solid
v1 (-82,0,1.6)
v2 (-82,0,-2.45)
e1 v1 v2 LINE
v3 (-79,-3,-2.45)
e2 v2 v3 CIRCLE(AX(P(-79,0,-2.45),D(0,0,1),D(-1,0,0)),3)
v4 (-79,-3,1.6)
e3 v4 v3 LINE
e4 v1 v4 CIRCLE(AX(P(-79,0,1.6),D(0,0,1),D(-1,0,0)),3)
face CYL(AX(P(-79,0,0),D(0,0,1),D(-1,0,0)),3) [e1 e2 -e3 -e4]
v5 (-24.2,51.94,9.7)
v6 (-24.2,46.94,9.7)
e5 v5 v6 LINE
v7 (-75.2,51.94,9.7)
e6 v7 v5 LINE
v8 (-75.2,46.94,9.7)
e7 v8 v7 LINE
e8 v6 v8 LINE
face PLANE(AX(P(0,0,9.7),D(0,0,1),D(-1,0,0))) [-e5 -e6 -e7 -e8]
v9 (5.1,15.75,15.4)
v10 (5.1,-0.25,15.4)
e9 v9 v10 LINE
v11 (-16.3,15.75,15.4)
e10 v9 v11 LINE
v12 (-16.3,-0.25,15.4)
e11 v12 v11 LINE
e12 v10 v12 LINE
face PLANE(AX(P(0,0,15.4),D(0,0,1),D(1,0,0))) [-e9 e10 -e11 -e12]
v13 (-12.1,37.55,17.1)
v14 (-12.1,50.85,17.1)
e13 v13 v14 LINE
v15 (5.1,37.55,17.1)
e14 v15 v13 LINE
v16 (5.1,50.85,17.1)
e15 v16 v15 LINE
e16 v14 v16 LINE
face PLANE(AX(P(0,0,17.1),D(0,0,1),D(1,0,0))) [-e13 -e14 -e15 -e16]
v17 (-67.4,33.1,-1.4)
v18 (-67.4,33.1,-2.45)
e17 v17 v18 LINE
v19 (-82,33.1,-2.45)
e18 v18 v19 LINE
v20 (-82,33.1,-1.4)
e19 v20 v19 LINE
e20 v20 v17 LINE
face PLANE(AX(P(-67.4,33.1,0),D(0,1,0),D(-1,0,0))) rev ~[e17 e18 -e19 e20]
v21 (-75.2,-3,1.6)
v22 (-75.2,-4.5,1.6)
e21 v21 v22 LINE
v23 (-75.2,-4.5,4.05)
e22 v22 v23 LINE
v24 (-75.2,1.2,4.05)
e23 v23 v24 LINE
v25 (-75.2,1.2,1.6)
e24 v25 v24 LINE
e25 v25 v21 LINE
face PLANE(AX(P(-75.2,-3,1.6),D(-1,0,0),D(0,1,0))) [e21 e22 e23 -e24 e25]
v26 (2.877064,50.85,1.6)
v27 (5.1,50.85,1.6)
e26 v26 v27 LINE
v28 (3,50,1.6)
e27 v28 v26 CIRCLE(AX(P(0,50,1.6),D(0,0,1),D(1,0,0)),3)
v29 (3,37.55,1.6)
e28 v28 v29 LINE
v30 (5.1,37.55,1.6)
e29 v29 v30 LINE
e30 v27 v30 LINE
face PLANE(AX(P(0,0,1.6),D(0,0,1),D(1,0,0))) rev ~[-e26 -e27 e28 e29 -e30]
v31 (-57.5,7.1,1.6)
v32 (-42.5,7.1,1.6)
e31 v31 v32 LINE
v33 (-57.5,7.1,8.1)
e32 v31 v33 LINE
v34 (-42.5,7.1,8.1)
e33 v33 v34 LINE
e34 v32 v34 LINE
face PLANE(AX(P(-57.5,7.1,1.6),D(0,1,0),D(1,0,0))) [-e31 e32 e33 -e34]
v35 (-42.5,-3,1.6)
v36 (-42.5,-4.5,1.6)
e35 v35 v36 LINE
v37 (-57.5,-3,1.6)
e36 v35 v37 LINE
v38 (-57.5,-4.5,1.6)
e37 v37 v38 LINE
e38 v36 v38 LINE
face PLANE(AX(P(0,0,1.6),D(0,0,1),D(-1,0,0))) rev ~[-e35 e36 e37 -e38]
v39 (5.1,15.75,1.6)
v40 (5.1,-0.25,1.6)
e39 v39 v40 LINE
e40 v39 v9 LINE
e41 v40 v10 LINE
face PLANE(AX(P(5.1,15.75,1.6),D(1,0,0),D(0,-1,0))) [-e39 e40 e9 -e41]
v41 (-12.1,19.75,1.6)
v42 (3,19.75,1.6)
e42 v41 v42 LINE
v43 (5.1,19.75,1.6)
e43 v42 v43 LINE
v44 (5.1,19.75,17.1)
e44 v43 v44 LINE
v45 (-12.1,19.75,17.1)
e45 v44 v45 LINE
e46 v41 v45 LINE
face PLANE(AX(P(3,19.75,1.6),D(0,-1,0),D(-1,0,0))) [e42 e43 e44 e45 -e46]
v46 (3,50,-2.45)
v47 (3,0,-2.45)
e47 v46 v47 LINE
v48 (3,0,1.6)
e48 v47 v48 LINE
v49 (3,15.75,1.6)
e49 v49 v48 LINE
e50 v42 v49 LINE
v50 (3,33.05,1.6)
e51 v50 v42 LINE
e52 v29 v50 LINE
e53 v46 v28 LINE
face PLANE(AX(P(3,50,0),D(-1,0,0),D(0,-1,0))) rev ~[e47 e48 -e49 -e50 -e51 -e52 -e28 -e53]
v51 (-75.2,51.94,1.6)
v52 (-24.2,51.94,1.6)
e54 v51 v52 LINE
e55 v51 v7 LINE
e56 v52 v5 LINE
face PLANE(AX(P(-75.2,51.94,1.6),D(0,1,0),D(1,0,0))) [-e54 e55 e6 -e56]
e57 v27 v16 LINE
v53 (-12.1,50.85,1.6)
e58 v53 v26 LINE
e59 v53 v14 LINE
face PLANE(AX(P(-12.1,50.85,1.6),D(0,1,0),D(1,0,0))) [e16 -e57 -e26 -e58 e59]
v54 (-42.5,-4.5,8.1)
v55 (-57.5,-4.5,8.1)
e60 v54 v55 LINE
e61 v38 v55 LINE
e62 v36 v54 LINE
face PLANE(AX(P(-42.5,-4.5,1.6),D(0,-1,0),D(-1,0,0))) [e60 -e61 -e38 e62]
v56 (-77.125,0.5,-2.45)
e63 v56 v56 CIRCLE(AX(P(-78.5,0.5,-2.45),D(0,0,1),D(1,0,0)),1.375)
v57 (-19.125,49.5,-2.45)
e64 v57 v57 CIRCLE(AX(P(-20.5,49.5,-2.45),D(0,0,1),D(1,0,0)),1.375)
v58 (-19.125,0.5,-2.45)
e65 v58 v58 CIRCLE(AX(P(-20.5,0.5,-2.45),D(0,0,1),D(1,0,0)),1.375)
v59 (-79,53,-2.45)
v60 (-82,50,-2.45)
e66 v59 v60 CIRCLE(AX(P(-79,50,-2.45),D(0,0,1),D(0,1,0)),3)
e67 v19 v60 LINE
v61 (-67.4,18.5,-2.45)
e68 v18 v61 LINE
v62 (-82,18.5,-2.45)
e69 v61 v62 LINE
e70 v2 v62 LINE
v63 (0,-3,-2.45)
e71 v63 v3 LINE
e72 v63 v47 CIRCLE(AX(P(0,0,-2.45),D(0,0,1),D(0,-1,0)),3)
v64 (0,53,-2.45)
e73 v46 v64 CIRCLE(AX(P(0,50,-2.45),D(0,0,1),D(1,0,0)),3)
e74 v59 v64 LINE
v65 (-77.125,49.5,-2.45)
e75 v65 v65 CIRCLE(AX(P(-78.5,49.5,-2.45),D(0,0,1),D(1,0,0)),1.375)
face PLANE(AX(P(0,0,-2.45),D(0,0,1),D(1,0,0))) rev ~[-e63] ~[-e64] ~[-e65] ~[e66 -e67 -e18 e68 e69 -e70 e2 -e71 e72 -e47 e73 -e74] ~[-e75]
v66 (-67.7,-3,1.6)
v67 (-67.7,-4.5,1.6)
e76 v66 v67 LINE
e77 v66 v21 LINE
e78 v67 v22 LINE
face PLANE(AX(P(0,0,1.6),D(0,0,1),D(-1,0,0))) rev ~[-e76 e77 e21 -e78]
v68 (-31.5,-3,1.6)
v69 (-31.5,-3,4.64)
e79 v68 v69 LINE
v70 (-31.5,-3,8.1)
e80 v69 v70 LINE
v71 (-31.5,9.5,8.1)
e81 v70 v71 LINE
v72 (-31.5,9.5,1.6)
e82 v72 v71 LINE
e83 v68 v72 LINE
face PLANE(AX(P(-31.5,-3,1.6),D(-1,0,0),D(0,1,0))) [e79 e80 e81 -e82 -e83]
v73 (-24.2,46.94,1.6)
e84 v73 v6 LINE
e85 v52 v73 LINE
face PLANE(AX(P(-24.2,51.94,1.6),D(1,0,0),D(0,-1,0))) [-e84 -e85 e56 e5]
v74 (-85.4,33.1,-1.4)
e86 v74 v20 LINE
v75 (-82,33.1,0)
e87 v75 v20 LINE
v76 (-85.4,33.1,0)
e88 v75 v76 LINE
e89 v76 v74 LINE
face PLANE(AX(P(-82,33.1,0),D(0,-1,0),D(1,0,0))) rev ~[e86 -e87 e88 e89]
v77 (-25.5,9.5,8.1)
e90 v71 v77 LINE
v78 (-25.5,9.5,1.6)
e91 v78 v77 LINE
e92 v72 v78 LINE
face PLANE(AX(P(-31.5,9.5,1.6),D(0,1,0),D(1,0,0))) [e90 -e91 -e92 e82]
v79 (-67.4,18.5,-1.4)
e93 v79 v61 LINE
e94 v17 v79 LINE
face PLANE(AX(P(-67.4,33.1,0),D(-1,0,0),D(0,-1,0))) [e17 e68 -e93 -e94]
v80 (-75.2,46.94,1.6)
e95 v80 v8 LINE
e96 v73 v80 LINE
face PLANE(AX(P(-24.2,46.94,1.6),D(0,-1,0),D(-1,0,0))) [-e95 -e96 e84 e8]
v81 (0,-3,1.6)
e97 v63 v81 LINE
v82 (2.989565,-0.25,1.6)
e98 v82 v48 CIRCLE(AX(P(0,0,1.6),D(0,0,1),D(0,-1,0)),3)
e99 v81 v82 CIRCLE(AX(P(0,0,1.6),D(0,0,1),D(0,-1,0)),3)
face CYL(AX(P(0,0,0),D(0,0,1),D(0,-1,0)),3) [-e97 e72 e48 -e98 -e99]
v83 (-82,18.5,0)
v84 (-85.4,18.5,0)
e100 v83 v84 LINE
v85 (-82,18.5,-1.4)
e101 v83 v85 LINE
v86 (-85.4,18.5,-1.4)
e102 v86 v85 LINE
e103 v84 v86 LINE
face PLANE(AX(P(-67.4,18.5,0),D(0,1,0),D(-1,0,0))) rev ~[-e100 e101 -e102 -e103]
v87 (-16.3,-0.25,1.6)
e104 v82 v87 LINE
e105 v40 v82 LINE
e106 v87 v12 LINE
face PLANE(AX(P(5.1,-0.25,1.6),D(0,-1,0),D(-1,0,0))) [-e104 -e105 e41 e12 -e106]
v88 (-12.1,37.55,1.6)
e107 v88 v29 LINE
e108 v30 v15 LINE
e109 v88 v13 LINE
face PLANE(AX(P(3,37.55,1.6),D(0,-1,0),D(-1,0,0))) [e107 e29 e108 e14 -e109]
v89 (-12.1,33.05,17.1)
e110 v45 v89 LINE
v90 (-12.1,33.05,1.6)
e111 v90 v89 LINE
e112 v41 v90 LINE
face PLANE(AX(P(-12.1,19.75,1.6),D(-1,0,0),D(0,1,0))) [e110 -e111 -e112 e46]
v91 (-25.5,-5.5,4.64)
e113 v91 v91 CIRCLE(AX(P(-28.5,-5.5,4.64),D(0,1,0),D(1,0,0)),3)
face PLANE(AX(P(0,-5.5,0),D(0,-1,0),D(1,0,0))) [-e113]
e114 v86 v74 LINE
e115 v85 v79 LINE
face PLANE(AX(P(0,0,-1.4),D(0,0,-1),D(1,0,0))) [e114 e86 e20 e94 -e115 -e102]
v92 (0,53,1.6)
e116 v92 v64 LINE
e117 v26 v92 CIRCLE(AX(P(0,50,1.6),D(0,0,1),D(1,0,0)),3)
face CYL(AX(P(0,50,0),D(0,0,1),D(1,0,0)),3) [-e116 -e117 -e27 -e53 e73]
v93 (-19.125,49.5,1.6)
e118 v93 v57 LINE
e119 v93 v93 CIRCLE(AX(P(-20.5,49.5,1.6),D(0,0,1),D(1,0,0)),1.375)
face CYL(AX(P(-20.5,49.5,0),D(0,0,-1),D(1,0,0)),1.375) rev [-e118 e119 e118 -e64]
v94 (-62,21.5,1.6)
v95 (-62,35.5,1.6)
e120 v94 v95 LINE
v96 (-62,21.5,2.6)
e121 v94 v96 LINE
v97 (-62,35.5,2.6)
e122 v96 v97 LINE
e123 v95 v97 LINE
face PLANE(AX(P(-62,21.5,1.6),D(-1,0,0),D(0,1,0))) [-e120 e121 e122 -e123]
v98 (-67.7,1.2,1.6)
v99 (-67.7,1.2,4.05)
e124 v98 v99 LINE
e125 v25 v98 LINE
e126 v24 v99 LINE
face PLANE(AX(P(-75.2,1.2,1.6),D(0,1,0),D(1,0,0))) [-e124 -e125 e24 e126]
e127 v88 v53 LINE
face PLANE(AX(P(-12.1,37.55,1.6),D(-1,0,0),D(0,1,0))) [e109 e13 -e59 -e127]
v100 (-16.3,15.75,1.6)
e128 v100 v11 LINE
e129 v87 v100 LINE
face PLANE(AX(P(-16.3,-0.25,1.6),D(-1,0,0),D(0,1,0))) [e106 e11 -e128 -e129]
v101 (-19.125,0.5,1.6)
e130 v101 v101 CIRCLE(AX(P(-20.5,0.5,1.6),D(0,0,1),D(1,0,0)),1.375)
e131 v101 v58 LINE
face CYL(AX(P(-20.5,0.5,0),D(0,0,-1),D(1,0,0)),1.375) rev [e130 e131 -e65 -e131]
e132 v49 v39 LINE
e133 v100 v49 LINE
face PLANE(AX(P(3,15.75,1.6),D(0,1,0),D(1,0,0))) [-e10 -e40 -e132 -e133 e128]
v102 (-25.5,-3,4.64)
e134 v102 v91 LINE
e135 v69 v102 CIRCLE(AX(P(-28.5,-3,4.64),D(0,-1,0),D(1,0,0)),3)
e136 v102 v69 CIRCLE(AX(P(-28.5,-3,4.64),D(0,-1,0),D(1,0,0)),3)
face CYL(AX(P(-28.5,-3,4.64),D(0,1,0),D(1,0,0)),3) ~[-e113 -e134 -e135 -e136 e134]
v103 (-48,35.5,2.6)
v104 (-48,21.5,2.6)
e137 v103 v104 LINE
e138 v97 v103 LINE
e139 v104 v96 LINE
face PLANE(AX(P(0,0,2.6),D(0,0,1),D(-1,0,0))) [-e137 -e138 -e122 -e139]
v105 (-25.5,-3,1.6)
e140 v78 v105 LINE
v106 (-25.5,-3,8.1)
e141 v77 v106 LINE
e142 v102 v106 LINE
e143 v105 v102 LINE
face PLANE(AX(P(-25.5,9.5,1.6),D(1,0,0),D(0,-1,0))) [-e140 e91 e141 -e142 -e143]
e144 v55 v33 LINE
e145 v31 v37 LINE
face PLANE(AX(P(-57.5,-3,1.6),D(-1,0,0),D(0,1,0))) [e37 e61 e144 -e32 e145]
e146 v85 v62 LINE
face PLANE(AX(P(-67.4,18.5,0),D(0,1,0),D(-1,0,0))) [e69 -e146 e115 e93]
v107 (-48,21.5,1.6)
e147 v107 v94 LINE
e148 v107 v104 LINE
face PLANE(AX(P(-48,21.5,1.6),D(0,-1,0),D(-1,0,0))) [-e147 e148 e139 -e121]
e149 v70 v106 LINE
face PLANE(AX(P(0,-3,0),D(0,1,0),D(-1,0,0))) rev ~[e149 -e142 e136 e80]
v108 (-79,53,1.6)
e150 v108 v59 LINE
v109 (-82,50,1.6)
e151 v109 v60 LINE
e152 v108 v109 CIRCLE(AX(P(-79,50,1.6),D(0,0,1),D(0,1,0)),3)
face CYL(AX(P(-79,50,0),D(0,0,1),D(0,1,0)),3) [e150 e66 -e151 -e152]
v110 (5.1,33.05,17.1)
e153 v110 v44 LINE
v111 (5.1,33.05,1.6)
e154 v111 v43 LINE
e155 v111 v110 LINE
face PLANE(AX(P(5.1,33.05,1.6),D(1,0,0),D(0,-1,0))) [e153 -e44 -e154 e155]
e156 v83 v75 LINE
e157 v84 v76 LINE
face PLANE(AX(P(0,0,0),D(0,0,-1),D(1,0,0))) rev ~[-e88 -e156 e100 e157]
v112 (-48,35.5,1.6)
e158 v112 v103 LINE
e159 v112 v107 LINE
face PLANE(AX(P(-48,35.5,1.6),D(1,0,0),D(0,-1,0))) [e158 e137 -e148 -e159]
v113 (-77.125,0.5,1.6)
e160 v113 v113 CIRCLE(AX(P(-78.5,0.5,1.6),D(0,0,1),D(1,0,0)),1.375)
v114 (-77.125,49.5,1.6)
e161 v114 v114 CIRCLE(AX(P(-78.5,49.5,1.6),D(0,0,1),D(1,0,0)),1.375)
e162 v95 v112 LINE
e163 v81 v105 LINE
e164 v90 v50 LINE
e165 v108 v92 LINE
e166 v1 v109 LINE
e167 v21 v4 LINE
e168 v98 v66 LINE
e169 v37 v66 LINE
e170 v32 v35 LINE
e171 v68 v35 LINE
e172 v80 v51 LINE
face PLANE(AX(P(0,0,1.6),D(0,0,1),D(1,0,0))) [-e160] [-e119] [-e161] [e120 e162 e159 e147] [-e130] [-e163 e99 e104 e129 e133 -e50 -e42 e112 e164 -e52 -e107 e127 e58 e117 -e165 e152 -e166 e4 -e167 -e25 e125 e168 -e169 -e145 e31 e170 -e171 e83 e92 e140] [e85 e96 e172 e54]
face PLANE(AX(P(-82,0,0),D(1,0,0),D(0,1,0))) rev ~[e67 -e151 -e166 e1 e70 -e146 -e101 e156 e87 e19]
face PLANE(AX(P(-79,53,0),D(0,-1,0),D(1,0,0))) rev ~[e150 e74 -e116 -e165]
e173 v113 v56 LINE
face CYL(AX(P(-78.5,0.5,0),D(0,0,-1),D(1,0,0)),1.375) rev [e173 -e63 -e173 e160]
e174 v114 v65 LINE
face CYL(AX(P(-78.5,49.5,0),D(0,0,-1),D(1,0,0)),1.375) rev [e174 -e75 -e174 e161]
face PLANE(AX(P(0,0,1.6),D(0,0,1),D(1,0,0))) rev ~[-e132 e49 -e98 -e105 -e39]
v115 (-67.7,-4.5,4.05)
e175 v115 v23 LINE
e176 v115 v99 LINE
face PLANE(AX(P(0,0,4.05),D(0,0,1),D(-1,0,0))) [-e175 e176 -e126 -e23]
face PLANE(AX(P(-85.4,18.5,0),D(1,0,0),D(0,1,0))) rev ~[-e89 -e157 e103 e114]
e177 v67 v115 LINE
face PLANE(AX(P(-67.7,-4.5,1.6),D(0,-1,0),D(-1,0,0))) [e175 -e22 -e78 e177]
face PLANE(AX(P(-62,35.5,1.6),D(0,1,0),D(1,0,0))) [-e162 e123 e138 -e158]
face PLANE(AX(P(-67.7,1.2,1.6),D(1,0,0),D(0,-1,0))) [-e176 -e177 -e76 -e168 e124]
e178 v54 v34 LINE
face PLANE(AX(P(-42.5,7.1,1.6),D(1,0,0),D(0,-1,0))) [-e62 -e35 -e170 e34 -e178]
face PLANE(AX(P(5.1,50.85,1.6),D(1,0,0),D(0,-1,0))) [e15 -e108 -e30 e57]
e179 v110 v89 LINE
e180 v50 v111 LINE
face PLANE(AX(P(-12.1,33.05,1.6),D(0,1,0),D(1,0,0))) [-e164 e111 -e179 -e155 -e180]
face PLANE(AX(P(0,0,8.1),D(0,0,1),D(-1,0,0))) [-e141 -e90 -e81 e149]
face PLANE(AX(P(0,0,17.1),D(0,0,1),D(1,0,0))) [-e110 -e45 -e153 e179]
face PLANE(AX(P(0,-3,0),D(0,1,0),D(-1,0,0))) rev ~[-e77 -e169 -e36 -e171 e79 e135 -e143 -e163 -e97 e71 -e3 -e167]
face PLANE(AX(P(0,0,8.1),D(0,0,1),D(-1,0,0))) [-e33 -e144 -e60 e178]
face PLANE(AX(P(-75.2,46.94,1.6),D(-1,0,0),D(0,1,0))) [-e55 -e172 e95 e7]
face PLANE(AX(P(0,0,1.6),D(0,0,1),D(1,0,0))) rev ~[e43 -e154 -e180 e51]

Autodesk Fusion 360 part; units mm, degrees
sketch "Sketch1" plane through (0, 0, 0) normal (0, 0, 1) x (1, 0, 0)
  line L0 (0, -3) -> (-79, -3)
  line L1 (-82, 0) -> (-82, 50)
  line L2 (-79, 53) -> (0, 53)
  line L3 (3, 50) -> (3, 0)
  arc A0 (-79, 53) -> (-82, 50) centre (-79, 50) ccw
  arc A1 (-82, 0) -> (-79, -3) centre (-79, 0) ccw
  arc A2 (3, 50) -> (0, 53) centre (0, 50) ccw
  arc A3 (0, -3) -> (3, 0) centre (0, 0) ccw
  circle A4 centre (-78.5, 49.5) radius 1.375
  circle A5 centre (-78.5, 0.5) radius 1.375
  circle A6 centre (-20.5, 49.5) radius 1.375
  circle A7 centre (-20.5, 0.5) radius 1.375
  dimension "d1" = 3
  dimension "d2" = 85
  dimension "d3" = 56
  dimension "d4" = 49
  dimension "d5" = 0.5
  dimension "d6" = 0.5
  dimension "d7" = 2.75
  dimension "d8" = 2.75
  dimension "d9" = 3.5
  dimension "d10" = 2.75
  dimension "d11" = 2.75
  dimension "d12" = 58
  dimension "d13" = 58
  dimension "d14" = 49
  dimension "d15" = 49
extrude "Extrude1" add sketch "Sketch1" along normal blind 1.6
sketch "Sketch2" plane through (0, 0, 0) normal (0, 0, -1) x (1, 0, 0)
  circle A0 centre (-20.5, -49.5) radius 1.375
  circle A1 centre (-78.5, -0.5) radius 1.375
  circle A2 centre (-20.5, -0.5) radius 1.375
  circle A3 centre (-78.5, -49.5) radius 1.375
  arc A4 (-79, 3) -> (-82, 0) centre (-79, 0) ccw
  line L0 (-82, 0) -> (-82, -50)
  arc A5 (-82, -50) -> (-79, -53) centre (-79, -50) ccw
  line L1 (-79, -53) -> (0, -53)
  arc A6 (0, -53) -> (3, -50) centre (0, -50) ccw
  line L2 (3, -50) -> (3, 0)
  arc A7 (3, 0) -> (0, 3) centre (0, 0) ccw
  line L3 (0, 3) -> (-79, 3)
  line L4 (-67.4, -18.5) -> (-85.4, -18.5)
  line L5 (-85.4, -18.5) -> (-85.4, -33.1)
  line L6 (-85.4, -33.1) -> (-67.4, -33.1)
  line L7 (-67.4, -33.1) -> (-67.4, -18.5)
  dimension "d18" = 14.6
  dimension "d19" = 19.9
  dimension "d20" = 18
  dimension "d21" = 3.4
extrude "Extrude2" add sketch "Sketch2" along normal blind 1.4 contours L0 L4 L6 L7 | L0 L4 L5 L6
extrude "Extrude3" add 1 faces at (-36.7049, 22.8333, 0) along direction (0, 0, -1) blind 2.45
sketch "Sketch3" plane through (0, 0, 1.6) normal (0, 0, 1) x (-1, 0, 0)
  circle A0 centre (20.5, -49.5) radius 1.375
  circle A1 centre (78.5, -0.5) radius 1.375
  circle A2 centre (20.5, -0.5) radius 1.375
  circle A3 centre (78.5, -49.5) radius 1.375
  arc A4 (82, 0) -> (79, 3) centre (79, 0) ccw
  line L0 (79, 3) -> (0, 3)
  arc A5 (0, 3) -> (-3, 0) centre (0, 0) ccw
  line L1 (-3, 0) -> (-3, -50)
  arc A6 (-3, -50) -> (0, -53) centre (0, -50) ccw
  line L2 (0, -53) -> (79, -53)
  arc A7 (79, -53) -> (82, -50) centre (79, -50) ccw
  line L3 (82, -50) -> (82, 0)
  line L4 (31.5, -9.5) -> (25.5, -9.5)
  line L5 (25.5, -9.5) -> (25.5, 3)
  line L6 (25.5, 3) -> (31.5, 3)
  line L7 (31.5, 3) -> (31.5, -9.5)
  line L8 (57.5, -7.1) -> (42.5, -7.1)
  line L9 (42.5, -7.1) -> (42.5, 4.5)
  line L10 (42.5, 4.5) -> (57.5, 4.5)
  line L11 (57.5, 4.5) -> (57.5, -7.1)
  line L12 (75.2, -1.2) -> (67.7, -1.2)
  line L13 (67.7, -1.2) -> (67.7, 4.5)
  line L14 (67.7, 4.5) -> (75.2, 4.5)
  line L15 (75.2, 4.5) -> (75.2, -1.2)
  dimension "d26" = 7.5
  dimension "d27" = 10.2
  dimension "d28" = 15
  dimension "d29" = 11
  dimension "d30" = 6
  dimension "d31" = 28.5
  dimension "d32" = 12.5
  dimension "d33" = 1.5
  dimension "d34" = 1.5
  dimension "d35" = 11.6
  dimension "d36" = 5.7
extrude "Extrude4" add sketch "Sketch3" along normal blind 6.5 contours L0 L8 L9 L11 | L0 L9 L10 L11 | L0 L4 L5 L6 L7
extrude "Extrude5" add sketch "Sketch3" along normal blind 2.45 contours L0 L12 L13 L15 | L0 L13 L14 L15
sketch "Sketch4" plane through (0, -3, 0) normal (0, -1, 0) x (1, 0, 0)
  line L0 (0, -2.45) -> (0, 1.6)
  line L1 (0, 1.6) -> (-25.5, 1.6)
  line L2 (-25.5, 1.6) -> (-25.5, 8.1)
  line L3 (-25.5, 8.1) -> (-31.5, 8.1)
  line L4 (-31.5, 8.1) -> (-31.5, 1.6)
  line L5 (-31.5, 1.6) -> (-42.5, 1.6)
  line L6 (-42.5, 1.6) -> (-57.5, 1.6)
  line L7 (-57.5, 1.6) -> (-67.7, 1.6)
  line L8 (-67.7, 1.6) -> (-75.2, 1.6)
  line L9 (-75.2, 1.6) -> (-79, 1.6)
  line L10 (-79, 1.6) -> (-79, -2.45)
  line L11 (-79, -2.45) -> (0, -2.45)
  circle A0 centre (-28.5, 4.64) radius 3
  line L12 (-25.5, 1.6) -> (-31.5, 1.6)
  dimension "d41" = 6
  dimension "d42" = 3
  dimension "d43" = 3.04
extrude "Extrude6" add sketch "Sketch4" along normal blind 2.5 contours A0
sketch "Sketch5" plane through (0, 0, 1.6) normal (0, 0, 1) x (1, 0, 0)
  line L0 (5.1, -0.25) -> (-16.3, -0.25)
  line L1 (-16.3, -0.25) -> (-16.3, 15.75)
  line L2 (-16.3, 15.75) -> (5.1, 15.75)
  line L3 (5.1, 15.75) -> (5.1, -0.25)
  line L4 (5.1, 19.75) -> (-12.1, 19.75)
  line L5 (-12.1, 19.75) -> (-12.1, 33.05)
  line L6 (-12.1, 33.05) -> (5.1, 33.05)
  line L7 (5.1, 33.05) -> (5.1, 19.75)
  line L8 (5.1, 37.55) -> (-12.1, 37.55)
  line L9 (-12.1, 37.55) -> (-12.1, 50.85)
  line L10 (-12.1, 50.85) -> (5.1, 50.85)
  line L11 (5.1, 50.85) -> (5.1, 37.55)
  line L12 (3, 0) -> (3, 50)
  line L13 (-79, -3) -> (0, -3)
  dimension "d46" = 13.3
  dimension "d47" = 13.3
  dimension "d48" = 16
  dimension "d49" = 2.1
  dimension "d50" = 2.1
  dimension "d51" = 2.1
  dimension "d52" = 4.5
  dimension "d53" = 4
  dimension "d54" = 2.75
  dimension "d55" = 21.4
  dimension "d56" = 17.2
  dimension "d57" = 17.2
extrude "Extrude7" add sketch "Sketch5" along normal blind 15.5 contours L8 L9 L10 L11 | L4 L5 L6 L12 | L4 L6 L7 L12
extrude "Extrude8" add sketch "Sketch5" along normal blind 13.8 contours L0 L1 L2 L3
sketch "Sketch6" plane through (0, 0, 1.6) normal (0, 0, 1) x (-1, 0, 0)
  line L0 (16.3, -15.75) -> (-3, -15.75)
  line L1 (-3, -15.75) -> (-3, -19.75)
  line L2 (-3, -19.75) -> (12.1, -19.75)
  line L3 (12.1, -19.75) -> (12.1, -33.05)
  line L4 (12.1, -33.05) -> (-3, -33.05)
  line L5 (-3, -33.05) -> (-3, -37.55)
  line L6 (-3, -37.55) -> (12.1, -37.55)
  line L7 (12.1, -37.55) -> (12.1, -50.85)
  line L8 (12.1, -50.85) -> (-2.8771, -50.85)
  arc A0 (-2.8771, -50.85) -> (0, -53) centre (0, -50) ccw
  line L9 (0, -53) -> (79, -53)
  arc A1 (79, -53) -> (82, -50) centre (79, -50) ccw
  line L10 (82, -50) -> (82, 0)
  arc A2 (82, 0) -> (79, 3) centre (79, 0) ccw
  line L11 (79, 3) -> (75.2, 3)
  line L12 (75.2, 3) -> (75.2, -1.2)
  line L13 (75.2, -1.2) -> (67.7, -1.2)
  line L14 (67.7, -1.2) -> (67.7, 3)
  line L15 (67.7, 3) -> (57.5, 3)
  line L16 (57.5, 3) -> (57.5, -7.1)
  line L17 (57.5, -7.1) -> (42.5, -7.1)
  line L18 (42.5, -7.1) -> (42.5, 3)
  line L19 (42.5, 3) -> (31.5, 3)
  line L20 (31.5, 3) -> (31.5, -9.5)
  line L21 (31.5, -9.5) -> (25.5, -9.5)
  line L22 (25.5, -9.5) -> (25.5, 3)
  line L23 (25.5, 3) -> (0, 3)
  arc A3 (0, 3) -> (-2.9896, 0.25) centre (0, 0) ccw
  line L24 (-2.9896, 0.25) -> (16.3, 0.25)
  line L25 (16.3, 0.25) -> (16.3, -15.75)
  circle A4 centre (20.5, -49.5) radius 1.375
  circle A5 centre (78.5, -0.5) radius 1.375
  circle A6 centre (20.5, -0.5) radius 1.375
  circle A7 centre (78.5, -49.5) radius 1.375
  line L26 (75.2, -51.94) -> (24.2, -51.94)
  line L27 (24.2, -51.94) -> (24.2, -46.94)
  line L28 (24.2, -46.94) -> (75.2, -46.94)
  line L29 (75.2, -46.94) -> (75.2, -51.94)
  dimension "d62" = 6.8
  dimension "d63" = 1.06
  dimension "d64" = 51
  dimension "d65" = 5
extrude "Extrude9" add sketch "Sketch6" along normal blind 8.1 contours L26 L27 L28 L29
sketch "Sketch7" plane through (0, 0, 1.6) normal (0, 0, 1) x (-1, 0, 0)
  line L0 (75.2, -46.94) -> (75.2, -51.94)
  line L1 (75.2, -51.94) -> (24.2, -51.94)
  line L2 (24.2, -51.94) -> (24.2, -46.94)
  line L3 (24.2, -46.94) -> (75.2, -46.94)
  line L4 (16.3, -15.75) -> (-3, -15.75)
  line L5 (-3, -15.75) -> (-3, -19.75)
  line L6 (-3, -19.75) -> (12.1, -19.75)
  line L7 (12.1, -19.75) -> (12.1, -33.05)
  line L8 (12.1, -33.05) -> (-3, -33.05)
  line L9 (-3, -33.05) -> (-3, -37.55)
  line L10 (-3, -37.55) -> (12.1, -37.55)
  line L11 (12.1, -37.55) -> (12.1, -50.85)
  line L12 (12.1, -50.85) -> (-2.8771, -50.85)
  arc A0 (-2.8771, -50.85) -> (0, -53) centre (0, -50) ccw
  line L13 (0, -53) -> (79, -53)
  arc A1 (79, -53) -> (82, -50) centre (79, -50) ccw
  line L14 (82, -50) -> (82, 0)
  arc A2 (82, 0) -> (79, 3) centre (79, 0) ccw
  line L15 (79, 3) -> (75.2, 3)
  line L16 (75.2, 3) -> (75.2, -1.2)
  line L17 (75.2, -1.2) -> (67.7, -1.2)
  line L18 (67.7, -1.2) -> (67.7, 3)
  line L19 (67.7, 3) -> (57.5, 3)
  line L20 (57.5, 3) -> (57.5, -7.1)
  line L21 (57.5, -7.1) -> (42.5, -7.1)
  line L22 (42.5, -7.1) -> (42.5, 3)
  line L23 (42.5, 3) -> (31.5, 3)
  line L24 (31.5, 3) -> (31.5, -9.5)
  line L25 (31.5, -9.5) -> (25.5, -9.5)
  line L26 (25.5, -9.5) -> (25.5, 3)
  line L27 (25.5, 3) -> (0, 3)
  arc A3 (0, 3) -> (-2.9896, 0.25) centre (0, 0) ccw
  line L28 (-2.9896, 0.25) -> (16.3, 0.25)
  line L29 (16.3, 0.25) -> (16.3, -15.75)
  circle A4 centre (20.5, -49.5) radius 1.375
  circle A5 centre (78.5, -0.5) radius 1.375
  circle A6 centre (20.5, -0.5) radius 1.375
  circle A7 centre (78.5, -49.5) radius 1.375
  line L30 (62, -35.5) -> (48, -35.5)
  line L31 (48, -35.5) -> (48, -21.5)
  line L32 (48, -21.5) -> (62, -21.5)
  line L33 (62, -21.5) -> (62, -35.5)
  line L34 (79, -53) -> (0, -53)
  line L35 (82, 0) -> (82, -50)
  dimension "d68" = 31.5
  dimension "d69" = 34
  dimension "d70" = 14
  dimension "d71" = 14
extrude "Extrude10" add sketch "Sketch7" along normal blind 1 contours L30 L31 L32 L33
equation "d8 = d7"
equation "d10 = d7"
equation "d11 = d7"
equation "d13 = d12"
equation "d14 = d4"
equation "d15 = d4"
equation "d21 = d20 - 14.6 mm"
equation "d47 = d46"
equation "d50 = d49"
equation "d51 = d49"
equation "d57 = d56"
